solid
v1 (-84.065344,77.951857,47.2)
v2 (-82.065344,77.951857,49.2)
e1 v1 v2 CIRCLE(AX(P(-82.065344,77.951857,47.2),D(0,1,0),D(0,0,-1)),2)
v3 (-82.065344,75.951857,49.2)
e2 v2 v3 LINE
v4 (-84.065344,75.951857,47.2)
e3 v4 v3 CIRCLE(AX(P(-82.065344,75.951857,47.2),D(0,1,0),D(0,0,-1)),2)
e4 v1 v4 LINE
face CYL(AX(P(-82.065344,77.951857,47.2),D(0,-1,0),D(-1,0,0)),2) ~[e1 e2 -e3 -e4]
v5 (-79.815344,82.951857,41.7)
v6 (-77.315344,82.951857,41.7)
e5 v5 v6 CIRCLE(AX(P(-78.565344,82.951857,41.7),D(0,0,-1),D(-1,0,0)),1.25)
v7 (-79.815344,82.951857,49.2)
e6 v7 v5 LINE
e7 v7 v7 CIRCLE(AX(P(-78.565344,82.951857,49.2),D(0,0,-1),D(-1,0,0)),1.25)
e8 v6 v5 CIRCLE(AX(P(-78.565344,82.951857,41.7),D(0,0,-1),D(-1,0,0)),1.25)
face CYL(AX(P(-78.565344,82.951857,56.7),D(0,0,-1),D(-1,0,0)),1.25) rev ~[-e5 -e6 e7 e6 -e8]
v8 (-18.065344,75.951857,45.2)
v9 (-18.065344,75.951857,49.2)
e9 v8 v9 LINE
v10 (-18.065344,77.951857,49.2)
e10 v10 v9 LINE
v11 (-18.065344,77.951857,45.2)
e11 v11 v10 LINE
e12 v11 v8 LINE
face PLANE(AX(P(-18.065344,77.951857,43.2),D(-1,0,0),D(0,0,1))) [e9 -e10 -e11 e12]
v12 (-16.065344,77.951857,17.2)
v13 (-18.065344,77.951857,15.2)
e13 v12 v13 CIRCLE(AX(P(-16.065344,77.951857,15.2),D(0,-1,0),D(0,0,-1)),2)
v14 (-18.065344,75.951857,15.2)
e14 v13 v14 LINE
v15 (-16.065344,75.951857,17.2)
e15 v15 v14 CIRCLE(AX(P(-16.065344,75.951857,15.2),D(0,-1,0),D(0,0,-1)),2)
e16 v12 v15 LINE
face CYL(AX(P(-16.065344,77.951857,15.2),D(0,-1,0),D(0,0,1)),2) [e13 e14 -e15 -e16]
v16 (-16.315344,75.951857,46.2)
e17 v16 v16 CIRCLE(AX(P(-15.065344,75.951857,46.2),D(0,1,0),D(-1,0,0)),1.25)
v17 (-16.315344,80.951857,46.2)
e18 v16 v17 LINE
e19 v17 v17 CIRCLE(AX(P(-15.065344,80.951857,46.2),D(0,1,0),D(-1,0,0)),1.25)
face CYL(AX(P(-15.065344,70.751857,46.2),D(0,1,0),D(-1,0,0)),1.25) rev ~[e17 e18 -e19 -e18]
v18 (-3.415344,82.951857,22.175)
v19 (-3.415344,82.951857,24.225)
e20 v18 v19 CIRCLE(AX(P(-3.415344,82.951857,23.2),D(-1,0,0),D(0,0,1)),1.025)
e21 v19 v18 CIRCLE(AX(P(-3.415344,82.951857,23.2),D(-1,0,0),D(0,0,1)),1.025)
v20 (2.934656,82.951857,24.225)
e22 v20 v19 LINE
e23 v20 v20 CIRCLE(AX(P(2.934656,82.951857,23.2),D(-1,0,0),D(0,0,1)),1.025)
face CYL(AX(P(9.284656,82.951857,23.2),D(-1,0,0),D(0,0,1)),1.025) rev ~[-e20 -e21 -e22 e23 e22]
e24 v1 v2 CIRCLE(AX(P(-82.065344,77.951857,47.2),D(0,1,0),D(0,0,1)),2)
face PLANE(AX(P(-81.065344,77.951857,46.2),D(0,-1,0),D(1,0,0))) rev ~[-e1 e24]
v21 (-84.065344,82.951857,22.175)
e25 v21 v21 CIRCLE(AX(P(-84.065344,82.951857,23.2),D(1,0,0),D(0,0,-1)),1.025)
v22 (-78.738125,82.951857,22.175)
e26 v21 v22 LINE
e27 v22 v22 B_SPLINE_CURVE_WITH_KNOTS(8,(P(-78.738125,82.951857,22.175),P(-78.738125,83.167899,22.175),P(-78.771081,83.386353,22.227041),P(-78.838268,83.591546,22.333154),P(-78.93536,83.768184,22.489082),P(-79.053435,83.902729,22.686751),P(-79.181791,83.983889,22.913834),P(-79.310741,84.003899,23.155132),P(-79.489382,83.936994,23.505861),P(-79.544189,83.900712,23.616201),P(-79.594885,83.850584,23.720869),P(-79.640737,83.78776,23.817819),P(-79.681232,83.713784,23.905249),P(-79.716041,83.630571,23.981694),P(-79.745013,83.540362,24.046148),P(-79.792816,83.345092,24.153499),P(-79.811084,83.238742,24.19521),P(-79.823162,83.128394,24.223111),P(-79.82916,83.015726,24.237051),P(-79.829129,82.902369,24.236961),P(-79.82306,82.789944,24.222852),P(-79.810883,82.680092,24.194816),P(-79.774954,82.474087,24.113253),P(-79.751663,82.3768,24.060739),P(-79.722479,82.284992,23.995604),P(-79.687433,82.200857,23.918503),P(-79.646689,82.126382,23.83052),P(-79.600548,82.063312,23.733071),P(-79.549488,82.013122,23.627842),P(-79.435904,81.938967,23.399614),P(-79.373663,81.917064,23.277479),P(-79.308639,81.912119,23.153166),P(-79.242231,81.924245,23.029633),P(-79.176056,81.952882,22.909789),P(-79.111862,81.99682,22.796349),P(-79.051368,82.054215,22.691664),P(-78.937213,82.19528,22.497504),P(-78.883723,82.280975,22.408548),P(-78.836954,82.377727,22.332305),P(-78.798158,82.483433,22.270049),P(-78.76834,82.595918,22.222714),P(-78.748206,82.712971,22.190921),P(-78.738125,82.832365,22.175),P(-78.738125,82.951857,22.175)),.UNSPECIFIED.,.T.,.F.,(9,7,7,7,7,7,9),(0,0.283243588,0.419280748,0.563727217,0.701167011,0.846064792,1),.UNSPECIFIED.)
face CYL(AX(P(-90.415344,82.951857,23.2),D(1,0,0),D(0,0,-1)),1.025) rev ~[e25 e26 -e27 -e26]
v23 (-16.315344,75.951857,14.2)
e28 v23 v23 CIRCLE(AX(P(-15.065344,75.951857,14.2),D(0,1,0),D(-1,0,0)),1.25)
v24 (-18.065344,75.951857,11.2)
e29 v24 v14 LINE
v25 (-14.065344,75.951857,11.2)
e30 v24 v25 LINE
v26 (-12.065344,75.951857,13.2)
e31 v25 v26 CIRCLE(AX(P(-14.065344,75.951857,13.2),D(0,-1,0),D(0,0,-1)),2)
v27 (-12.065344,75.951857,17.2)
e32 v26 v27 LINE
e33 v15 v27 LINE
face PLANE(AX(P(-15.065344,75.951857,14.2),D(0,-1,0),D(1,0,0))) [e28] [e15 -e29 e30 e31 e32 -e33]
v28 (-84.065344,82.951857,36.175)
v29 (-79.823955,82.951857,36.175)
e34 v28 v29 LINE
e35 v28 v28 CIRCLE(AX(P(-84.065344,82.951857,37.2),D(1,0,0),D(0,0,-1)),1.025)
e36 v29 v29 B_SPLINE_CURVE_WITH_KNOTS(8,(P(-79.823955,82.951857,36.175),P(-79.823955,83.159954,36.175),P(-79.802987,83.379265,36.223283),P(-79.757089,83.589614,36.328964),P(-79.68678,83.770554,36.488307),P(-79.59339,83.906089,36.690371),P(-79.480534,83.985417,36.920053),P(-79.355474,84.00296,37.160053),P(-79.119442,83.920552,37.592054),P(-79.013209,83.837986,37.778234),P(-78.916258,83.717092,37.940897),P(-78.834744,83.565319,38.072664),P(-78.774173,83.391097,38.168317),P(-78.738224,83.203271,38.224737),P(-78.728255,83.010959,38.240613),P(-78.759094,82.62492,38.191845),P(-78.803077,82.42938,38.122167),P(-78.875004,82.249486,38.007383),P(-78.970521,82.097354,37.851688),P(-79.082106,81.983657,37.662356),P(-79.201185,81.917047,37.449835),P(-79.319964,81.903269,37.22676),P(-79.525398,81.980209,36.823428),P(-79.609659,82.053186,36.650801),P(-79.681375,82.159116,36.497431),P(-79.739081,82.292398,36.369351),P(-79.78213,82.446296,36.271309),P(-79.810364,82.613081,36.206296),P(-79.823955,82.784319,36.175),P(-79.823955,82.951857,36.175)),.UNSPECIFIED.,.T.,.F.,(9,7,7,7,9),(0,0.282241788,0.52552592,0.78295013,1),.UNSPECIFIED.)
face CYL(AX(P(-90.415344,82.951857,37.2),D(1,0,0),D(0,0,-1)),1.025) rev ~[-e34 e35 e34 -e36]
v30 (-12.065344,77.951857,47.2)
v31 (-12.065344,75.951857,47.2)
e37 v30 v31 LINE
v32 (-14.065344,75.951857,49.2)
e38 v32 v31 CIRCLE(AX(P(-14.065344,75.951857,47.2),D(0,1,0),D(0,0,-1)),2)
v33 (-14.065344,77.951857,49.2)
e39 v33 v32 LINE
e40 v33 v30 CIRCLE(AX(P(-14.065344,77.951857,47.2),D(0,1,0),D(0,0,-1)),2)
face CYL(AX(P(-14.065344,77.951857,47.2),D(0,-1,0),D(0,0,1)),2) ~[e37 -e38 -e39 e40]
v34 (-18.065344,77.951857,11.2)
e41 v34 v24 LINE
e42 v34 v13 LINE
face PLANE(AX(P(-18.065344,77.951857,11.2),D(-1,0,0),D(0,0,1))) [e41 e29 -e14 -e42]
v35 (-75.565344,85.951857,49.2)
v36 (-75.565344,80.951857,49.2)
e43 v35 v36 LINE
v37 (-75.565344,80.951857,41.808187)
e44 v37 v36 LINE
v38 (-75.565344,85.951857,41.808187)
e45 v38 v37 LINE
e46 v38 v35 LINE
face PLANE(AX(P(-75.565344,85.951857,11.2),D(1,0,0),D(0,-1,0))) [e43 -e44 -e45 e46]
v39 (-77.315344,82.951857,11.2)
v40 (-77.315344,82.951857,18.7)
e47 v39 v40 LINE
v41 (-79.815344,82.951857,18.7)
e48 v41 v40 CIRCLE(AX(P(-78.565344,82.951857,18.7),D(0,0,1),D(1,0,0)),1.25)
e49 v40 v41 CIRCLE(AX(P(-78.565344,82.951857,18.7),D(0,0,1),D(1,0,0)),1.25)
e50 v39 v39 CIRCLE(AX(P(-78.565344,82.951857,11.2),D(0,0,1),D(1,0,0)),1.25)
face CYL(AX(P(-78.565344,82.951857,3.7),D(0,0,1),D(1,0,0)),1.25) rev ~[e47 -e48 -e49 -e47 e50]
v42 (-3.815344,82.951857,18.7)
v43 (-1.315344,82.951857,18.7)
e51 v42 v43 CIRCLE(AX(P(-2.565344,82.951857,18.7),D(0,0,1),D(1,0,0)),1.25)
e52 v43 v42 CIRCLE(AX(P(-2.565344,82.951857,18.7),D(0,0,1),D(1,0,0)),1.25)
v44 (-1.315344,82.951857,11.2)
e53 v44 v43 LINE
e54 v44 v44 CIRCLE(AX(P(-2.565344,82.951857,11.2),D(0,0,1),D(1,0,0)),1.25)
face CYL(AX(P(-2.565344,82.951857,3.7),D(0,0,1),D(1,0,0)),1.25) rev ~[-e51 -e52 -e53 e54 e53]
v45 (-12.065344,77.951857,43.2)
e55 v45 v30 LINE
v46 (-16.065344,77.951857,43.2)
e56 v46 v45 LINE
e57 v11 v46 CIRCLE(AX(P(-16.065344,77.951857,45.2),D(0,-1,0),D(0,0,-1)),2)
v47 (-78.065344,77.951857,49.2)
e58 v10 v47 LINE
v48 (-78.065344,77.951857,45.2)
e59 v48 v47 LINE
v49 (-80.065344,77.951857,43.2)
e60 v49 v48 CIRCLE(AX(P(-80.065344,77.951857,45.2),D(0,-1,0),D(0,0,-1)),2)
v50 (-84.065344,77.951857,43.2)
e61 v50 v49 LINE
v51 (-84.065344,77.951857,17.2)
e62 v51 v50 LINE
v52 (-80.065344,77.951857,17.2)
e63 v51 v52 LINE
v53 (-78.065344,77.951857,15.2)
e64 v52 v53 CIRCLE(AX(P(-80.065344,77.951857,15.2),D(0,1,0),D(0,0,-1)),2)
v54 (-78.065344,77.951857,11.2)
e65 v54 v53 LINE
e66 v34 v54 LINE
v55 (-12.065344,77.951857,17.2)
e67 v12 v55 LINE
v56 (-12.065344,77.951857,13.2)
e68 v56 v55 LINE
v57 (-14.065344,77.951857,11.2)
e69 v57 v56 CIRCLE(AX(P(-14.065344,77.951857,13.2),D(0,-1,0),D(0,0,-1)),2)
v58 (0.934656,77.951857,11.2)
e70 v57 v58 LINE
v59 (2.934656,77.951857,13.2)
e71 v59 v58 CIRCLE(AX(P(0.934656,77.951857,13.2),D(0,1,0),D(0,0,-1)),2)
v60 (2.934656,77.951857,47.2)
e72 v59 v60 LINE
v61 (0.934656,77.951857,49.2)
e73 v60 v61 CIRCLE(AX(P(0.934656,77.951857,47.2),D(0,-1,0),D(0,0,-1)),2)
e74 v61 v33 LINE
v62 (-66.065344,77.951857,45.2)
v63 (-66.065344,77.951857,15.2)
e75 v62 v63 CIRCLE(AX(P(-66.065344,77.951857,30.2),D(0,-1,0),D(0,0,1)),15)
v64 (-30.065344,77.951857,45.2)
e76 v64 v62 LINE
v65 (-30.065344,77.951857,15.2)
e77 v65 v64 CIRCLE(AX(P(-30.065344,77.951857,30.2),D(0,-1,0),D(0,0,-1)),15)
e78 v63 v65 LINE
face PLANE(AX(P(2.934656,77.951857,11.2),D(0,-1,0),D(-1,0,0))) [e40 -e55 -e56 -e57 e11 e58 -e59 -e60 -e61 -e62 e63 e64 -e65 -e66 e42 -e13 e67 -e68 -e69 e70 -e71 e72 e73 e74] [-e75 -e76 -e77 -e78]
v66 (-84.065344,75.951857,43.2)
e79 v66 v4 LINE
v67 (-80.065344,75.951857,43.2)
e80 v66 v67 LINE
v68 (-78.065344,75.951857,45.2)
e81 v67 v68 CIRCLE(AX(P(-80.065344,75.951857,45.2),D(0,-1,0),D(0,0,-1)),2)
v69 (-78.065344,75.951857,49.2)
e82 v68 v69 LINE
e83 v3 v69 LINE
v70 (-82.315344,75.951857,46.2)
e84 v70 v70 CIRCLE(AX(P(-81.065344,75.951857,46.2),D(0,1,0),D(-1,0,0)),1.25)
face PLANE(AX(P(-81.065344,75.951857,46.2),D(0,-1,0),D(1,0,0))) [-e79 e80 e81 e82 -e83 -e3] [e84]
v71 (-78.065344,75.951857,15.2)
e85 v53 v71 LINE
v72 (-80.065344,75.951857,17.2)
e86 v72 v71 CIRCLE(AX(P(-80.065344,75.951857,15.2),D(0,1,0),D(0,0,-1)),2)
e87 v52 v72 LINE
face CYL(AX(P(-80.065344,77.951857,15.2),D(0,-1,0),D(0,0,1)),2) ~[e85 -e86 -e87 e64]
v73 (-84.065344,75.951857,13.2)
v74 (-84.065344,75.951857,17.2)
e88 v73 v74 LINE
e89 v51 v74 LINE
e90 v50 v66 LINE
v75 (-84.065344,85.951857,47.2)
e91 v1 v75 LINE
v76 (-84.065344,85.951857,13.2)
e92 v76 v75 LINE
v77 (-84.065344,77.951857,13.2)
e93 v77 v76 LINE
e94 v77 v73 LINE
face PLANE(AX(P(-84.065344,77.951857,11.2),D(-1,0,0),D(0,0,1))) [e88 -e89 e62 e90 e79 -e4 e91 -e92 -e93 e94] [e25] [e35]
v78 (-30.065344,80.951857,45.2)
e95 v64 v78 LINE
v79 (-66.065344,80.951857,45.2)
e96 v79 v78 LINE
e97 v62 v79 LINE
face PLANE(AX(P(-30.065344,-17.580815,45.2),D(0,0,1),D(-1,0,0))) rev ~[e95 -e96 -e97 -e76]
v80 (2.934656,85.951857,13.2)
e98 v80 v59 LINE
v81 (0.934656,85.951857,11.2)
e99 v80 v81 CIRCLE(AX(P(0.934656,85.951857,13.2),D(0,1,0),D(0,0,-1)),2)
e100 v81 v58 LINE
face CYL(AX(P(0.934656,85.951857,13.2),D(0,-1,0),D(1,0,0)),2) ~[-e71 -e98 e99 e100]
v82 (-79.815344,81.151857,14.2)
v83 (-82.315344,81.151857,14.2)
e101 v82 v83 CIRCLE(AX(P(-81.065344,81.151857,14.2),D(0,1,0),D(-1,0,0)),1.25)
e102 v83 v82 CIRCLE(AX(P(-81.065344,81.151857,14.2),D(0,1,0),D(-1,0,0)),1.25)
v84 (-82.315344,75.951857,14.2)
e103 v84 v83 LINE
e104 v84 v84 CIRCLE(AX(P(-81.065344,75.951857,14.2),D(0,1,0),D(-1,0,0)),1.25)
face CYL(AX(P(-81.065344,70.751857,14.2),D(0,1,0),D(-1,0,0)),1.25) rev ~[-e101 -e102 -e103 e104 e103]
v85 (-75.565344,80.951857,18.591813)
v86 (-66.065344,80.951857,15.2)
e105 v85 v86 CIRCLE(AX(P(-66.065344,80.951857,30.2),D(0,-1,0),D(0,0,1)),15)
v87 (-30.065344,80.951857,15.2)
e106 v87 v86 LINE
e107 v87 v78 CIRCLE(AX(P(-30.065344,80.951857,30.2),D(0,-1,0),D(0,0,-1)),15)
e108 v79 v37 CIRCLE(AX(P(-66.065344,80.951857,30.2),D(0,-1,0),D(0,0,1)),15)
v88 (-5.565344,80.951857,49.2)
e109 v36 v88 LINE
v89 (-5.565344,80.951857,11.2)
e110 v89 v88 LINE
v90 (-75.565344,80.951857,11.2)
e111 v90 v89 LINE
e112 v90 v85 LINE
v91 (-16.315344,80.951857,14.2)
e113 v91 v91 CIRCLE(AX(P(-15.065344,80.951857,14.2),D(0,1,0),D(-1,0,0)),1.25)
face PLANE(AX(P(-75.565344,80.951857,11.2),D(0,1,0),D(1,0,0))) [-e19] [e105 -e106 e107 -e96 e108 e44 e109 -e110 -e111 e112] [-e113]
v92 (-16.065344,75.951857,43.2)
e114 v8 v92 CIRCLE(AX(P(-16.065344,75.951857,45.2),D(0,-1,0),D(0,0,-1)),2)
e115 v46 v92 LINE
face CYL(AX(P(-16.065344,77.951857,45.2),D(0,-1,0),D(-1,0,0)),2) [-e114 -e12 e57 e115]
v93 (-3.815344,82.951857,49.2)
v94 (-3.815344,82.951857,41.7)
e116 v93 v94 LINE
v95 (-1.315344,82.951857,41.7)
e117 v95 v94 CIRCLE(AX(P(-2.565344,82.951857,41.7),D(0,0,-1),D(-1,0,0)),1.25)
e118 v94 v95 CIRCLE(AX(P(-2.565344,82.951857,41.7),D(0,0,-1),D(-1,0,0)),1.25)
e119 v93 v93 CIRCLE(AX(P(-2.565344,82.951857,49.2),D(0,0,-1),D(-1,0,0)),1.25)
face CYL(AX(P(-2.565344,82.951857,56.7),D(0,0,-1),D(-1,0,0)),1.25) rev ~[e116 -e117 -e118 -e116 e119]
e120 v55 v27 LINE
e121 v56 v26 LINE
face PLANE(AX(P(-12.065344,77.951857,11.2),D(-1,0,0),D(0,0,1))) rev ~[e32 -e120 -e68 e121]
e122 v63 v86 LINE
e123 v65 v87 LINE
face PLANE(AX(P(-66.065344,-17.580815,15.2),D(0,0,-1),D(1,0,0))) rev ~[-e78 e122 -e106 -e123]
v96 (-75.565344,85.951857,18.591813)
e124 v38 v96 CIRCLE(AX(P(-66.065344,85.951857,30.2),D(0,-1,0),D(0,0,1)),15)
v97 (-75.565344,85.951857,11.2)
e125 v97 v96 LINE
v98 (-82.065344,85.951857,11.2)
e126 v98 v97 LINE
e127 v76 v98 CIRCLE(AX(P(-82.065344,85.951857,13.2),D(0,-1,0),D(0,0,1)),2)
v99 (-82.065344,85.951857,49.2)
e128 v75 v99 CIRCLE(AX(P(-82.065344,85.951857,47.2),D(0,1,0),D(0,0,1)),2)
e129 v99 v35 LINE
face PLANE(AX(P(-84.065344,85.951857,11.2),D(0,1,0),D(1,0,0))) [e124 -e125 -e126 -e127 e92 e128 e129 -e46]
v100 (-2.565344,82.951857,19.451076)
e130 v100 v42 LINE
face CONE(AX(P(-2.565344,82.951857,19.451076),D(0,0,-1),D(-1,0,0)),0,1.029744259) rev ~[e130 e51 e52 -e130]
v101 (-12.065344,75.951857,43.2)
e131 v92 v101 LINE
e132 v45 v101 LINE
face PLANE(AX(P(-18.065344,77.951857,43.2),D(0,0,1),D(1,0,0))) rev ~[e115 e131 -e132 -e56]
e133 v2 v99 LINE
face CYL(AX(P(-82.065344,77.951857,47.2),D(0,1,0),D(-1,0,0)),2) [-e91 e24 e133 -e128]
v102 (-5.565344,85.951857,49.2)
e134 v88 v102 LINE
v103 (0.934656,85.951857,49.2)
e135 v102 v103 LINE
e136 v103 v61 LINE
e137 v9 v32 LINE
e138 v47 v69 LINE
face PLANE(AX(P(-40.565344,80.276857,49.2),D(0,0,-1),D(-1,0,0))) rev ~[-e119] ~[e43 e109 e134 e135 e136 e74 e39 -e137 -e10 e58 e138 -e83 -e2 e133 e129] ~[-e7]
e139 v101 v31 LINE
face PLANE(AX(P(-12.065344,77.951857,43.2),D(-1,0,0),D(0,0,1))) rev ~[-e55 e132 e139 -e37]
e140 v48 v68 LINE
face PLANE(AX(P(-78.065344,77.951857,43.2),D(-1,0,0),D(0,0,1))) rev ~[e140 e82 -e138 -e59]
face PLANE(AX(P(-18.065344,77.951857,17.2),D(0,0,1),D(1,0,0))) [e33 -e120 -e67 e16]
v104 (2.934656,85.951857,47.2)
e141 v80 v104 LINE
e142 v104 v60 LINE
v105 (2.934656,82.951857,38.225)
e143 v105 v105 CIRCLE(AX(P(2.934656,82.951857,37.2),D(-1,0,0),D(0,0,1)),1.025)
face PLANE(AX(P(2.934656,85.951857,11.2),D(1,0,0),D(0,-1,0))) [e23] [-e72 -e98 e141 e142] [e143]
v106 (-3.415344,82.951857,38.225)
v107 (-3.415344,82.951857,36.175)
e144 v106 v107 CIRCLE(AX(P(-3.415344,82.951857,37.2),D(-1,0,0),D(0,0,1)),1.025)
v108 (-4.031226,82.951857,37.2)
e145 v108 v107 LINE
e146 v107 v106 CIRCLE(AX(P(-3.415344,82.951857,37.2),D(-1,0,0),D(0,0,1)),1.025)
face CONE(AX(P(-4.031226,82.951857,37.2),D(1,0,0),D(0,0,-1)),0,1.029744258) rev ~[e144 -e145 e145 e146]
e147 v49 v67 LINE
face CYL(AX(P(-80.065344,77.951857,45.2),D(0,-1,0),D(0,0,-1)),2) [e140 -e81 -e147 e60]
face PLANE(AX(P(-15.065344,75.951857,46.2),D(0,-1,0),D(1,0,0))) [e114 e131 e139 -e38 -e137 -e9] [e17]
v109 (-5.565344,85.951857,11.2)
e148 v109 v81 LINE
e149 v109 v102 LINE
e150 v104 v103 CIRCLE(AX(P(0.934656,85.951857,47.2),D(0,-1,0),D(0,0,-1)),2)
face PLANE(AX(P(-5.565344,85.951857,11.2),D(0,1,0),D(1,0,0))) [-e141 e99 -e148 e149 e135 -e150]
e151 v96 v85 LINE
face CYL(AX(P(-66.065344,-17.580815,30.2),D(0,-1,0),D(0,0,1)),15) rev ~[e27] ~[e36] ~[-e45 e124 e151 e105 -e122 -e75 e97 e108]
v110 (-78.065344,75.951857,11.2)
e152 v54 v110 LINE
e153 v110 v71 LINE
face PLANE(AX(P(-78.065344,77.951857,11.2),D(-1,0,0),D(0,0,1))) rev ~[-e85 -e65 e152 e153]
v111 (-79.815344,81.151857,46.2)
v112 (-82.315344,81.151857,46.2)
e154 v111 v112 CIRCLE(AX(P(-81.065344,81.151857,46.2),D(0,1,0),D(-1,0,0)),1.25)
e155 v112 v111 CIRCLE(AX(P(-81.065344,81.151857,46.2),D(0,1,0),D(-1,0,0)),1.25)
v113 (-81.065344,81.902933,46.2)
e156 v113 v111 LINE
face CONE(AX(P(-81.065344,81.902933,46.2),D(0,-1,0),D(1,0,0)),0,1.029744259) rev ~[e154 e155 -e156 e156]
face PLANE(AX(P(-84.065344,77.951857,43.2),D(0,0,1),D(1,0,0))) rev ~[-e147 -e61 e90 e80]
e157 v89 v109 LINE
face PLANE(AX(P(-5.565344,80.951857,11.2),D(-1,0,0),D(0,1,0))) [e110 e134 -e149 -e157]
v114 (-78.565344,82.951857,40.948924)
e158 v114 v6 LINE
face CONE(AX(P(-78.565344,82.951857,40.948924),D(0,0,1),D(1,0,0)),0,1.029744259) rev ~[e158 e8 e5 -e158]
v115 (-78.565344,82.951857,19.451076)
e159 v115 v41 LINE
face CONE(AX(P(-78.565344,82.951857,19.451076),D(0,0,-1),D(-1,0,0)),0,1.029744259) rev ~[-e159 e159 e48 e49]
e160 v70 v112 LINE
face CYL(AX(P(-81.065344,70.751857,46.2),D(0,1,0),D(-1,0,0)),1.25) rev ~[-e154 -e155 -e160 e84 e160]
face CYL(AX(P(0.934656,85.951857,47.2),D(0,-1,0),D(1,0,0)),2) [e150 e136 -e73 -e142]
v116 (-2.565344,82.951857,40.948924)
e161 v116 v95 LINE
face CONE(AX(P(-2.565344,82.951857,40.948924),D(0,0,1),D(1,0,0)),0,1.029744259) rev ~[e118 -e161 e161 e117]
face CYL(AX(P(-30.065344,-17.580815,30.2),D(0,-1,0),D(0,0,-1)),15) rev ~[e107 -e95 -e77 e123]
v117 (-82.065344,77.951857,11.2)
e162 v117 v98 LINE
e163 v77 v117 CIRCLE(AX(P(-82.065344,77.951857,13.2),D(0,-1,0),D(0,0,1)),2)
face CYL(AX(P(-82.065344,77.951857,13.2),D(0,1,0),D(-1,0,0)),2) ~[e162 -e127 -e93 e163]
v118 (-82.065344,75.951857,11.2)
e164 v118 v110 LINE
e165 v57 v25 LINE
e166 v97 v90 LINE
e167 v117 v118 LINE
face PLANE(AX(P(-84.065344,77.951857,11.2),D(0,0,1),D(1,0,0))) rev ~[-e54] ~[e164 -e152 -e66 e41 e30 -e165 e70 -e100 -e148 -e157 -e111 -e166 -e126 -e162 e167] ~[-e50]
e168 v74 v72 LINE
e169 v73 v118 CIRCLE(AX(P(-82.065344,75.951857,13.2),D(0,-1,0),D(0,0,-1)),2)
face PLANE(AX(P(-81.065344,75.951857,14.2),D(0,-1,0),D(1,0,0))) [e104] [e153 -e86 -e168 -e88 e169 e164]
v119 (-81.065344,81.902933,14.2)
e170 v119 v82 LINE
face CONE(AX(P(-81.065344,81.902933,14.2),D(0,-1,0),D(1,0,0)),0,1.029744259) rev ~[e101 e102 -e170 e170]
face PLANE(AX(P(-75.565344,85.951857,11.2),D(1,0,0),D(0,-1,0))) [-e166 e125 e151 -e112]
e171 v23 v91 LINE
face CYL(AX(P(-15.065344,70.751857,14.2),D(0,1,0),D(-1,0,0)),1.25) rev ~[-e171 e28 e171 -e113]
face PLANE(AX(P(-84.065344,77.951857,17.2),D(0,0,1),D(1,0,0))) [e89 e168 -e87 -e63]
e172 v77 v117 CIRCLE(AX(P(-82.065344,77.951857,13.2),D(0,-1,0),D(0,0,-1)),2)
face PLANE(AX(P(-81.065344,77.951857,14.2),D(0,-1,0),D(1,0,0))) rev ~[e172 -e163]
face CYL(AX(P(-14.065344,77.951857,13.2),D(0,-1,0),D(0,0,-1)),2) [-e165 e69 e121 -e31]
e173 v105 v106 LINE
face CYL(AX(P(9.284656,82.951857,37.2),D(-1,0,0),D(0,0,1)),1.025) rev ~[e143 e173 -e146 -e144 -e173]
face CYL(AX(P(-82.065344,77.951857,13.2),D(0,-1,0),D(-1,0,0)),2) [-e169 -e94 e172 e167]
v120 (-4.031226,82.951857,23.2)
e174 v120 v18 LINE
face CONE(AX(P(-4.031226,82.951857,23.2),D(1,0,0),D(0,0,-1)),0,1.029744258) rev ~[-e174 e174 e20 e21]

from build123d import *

# Parameters (mm, degrees)
BOSS_EXTRUDE1_DEPTH          = 38
FILLET3_R                    = 2
CUT_EXTRUDE1_DEPTH           = 98.532671663
CUT_EXTRUDE1_DEPTH_BACK      = 98.532671663
M3X0_5_TAPPED_HOLE2_D        = 2.5
M3X0_5_TAPPED_HOLE2_DEPTH    = 7.5
M3X0_5_TAPPED_HOLE2_TIP      = 0.751075774
M3X0_5_TAPPED_HOLE3_D        = 2.5
M3X0_5_TAPPED_HOLE3_DEPTH    = 7.5
M3X0_5_TAPPED_HOLE3_TIP      = 0.751075774
M2_5X0_45_TAPPED_HOLE1_D     = 2.05
M2_5X0_45_TAPPED_HOLE1_DEPTH = 6.35
M2_5X0_45_TAPPED_HOLE1_TIP   = 0.615882135
M2_5X0_45_TAPPED_HOLE2_D     = 2.05
M2_5X0_45_TAPPED_HOLE2_DEPTH = 6.35
M2_5X0_45_TAPPED_HOLE2_TIP   = 0.615882135
SKETCH13_W                   = 6
SKETCH13_H                   = 6
BOSS_EXTRUDE3_DEPTH          = 2
FILLET6_R                    = 2
M3X0_5_TAPPED_HOLE4_D        = 2.5
M3X0_5_TAPPED_HOLE4_DEPTH    = 5.2
M3X0_5_TAPPED_HOLE4_TIP      = 0.751075774


with BuildPart() as part:
    # Sketch2 → Boss-Extrude1 (new body)
    with BuildSketch(Plane.XY.offset(11.2)):
        Polygon((-84.06534388, 85.95185693), (-75.56534388, 85.95185693), (-75.56534388, 80.95185693), (-5.56534388, 80.95185693), (-5.56534388, 85.95185693), (2.93465612, 85.95185693), (2.93465612, 77.95185693), (-84.06534388, 77.95185693), align=None)
    extrude(amount=BOSS_EXTRUDE1_DEPTH)

    # Fillet3
    fillet3_edges = [part.edges().sort_by_distance(p)[0] for p in [
        (2.93465612, 81.95185693, 49.2),
        (-84.06534388, 81.95185693, 11.2),
        (-84.06534388, 81.95185693, 49.2),
        (2.93465612, 81.95185693, 11.2),
    ]]
    fillet(fillet3_edges, radius=FILLET3_R)

    # Sketch3 → Cut-Extrude1 (cut, two sides: drawn at the far end of the back side and taken through both)
    with BuildSketch(Plane(origin=(0, 80.95185693, 0), x_dir=(1, 0, 0), z_dir=(0, 1, 0)).offset(-CUT_EXTRUDE1_DEPTH_BACK)):
        with BuildLine():
            Line((-66.06534388, -15.2), (-30.06534388, -15.2))
            ThreePointArc((-30.06534388, -15.2), (-15.06534388, -30.2), (-30.06534388, -45.2))
            Line((-30.06534388, -45.2), (-66.06534388, -45.2))
            ThreePointArc((-66.06534388, -45.2), (-81.06534388, -30.2), (-66.06534388, -15.2))
        make_face()
    extrude(amount=CUT_EXTRUDE1_DEPTH + CUT_EXTRUDE1_DEPTH_BACK, mode=Mode.SUBTRACT)

    # M3x0.5 Tapped Hole2
    with Locations(Plane(origin=(0, 0, 11.2), x_dir=(-1, 0, 0), z_dir=(0, 0, -1))):
        with Locations((78.56534388, 82.95185693), (2.56534388, 82.95185693)):
            Hole(M3X0_5_TAPPED_HOLE2_D / 2, depth=M3X0_5_TAPPED_HOLE2_DEPTH)
            with Locations((0, 0, -(M3X0_5_TAPPED_HOLE2_DEPTH + M3X0_5_TAPPED_HOLE2_TIP / 2))):  # 118° drill point
                Cone(0, M3X0_5_TAPPED_HOLE2_D / 2, M3X0_5_TAPPED_HOLE2_TIP, mode=Mode.SUBTRACT)

    # M3x0.5 Tapped Hole3
    with Locations(Plane.XY.offset(49.2)):
        with Locations((-2.56534388, 82.95185693), (-78.56534388, 82.95185693)):
            Hole(M3X0_5_TAPPED_HOLE3_D / 2, depth=M3X0_5_TAPPED_HOLE3_DEPTH)
            with Locations((0, 0, -(M3X0_5_TAPPED_HOLE3_DEPTH + M3X0_5_TAPPED_HOLE3_TIP / 2))):  # 118° drill point
                Cone(0, M3X0_5_TAPPED_HOLE3_D / 2, M3X0_5_TAPPED_HOLE3_TIP, mode=Mode.SUBTRACT)

    # M2.5x0.45 Tapped Hole1
    with Locations(Plane.ZY.offset(84.06534388)):
        with Locations((37.2, 82.95185693), (23.2, 82.95185693)):
            Hole(M2_5X0_45_TAPPED_HOLE1_D / 2, depth=M2_5X0_45_TAPPED_HOLE1_DEPTH)
            with Locations((0, 0, -(M2_5X0_45_TAPPED_HOLE1_DEPTH + M2_5X0_45_TAPPED_HOLE1_TIP / 2))):  # 118° drill point
                Cone(0, M2_5X0_45_TAPPED_HOLE1_D / 2, M2_5X0_45_TAPPED_HOLE1_TIP, mode=Mode.SUBTRACT)

    # M2.5x0.45 Tapped Hole2
    with Locations(Plane(origin=(2.93465612, 0, 0), x_dir=(0, 0, -1), z_dir=(1, 0, 0))):
        with Locations((-23.2, 82.95185693), (-37.2, 82.95185693)):
            Hole(M2_5X0_45_TAPPED_HOLE2_D / 2, depth=M2_5X0_45_TAPPED_HOLE2_DEPTH)
            with Locations((0, 0, -(M2_5X0_45_TAPPED_HOLE2_DEPTH + M2_5X0_45_TAPPED_HOLE2_TIP / 2))):  # 118° drill point
                Cone(0, M2_5X0_45_TAPPED_HOLE2_D / 2, M2_5X0_45_TAPPED_HOLE2_TIP, mode=Mode.SUBTRACT)

    # Sketch13 → Boss-Extrude3 (add)
    with BuildSketch(Plane.XZ.offset(-77.95185693)):
        with Locations((-81.06534388, 14.2)):
            Rectangle(SKETCH13_W, SKETCH13_H)
        with Locations((-81.06534388, 46.2)):
            Rectangle(SKETCH13_W, SKETCH13_H)
        with Locations((-15.06534388, 14.2)):
            Rectangle(SKETCH13_W, SKETCH13_H)
        with Locations((-15.06534388, 46.2)):
            Rectangle(SKETCH13_W, SKETCH13_H)
    extrude(amount=BOSS_EXTRUDE3_DEPTH)

    # Fillet6
    fillet6_edges = [part.edges().sort_by_distance(p)[0] for p in [
        (-12.06534388, 76.95185693, 49.2),
        (-12.06534388, 76.95185693, 11.2),
        (-84.06534388, 76.95185693, 11.2),
        (-84.06534388, 76.95185693, 49.2),
        (-78.06534388, 76.95185693, 17.2),
        (-78.06534388, 76.95185693, 43.2),
        (-18.06534388, 76.95185693, 43.2),
        (-18.06534388, 76.95185693, 17.2),
    ]]
    fillet(fillet6_edges, radius=FILLET6_R)

    # M3x0.5 Tapped Hole4
    with Locations(Plane.XZ.offset(-75.95185693)):
        with Locations((-15.06534388, 46.2), (-15.06534388, 14.2), (-81.06534388, 14.2), (-81.06534388, 46.2)):
            Hole(M3X0_5_TAPPED_HOLE4_D / 2, depth=M3X0_5_TAPPED_HOLE4_DEPTH)
            with Locations((0, 0, -(M3X0_5_TAPPED_HOLE4_DEPTH + M3X0_5_TAPPED_HOLE4_TIP / 2))):  # 118° drill point
                Cone(0, M3X0_5_TAPPED_HOLE4_D / 2, M3X0_5_TAPPED_HOLE4_TIP, mode=Mode.SUBTRACT)


solid = part.part
